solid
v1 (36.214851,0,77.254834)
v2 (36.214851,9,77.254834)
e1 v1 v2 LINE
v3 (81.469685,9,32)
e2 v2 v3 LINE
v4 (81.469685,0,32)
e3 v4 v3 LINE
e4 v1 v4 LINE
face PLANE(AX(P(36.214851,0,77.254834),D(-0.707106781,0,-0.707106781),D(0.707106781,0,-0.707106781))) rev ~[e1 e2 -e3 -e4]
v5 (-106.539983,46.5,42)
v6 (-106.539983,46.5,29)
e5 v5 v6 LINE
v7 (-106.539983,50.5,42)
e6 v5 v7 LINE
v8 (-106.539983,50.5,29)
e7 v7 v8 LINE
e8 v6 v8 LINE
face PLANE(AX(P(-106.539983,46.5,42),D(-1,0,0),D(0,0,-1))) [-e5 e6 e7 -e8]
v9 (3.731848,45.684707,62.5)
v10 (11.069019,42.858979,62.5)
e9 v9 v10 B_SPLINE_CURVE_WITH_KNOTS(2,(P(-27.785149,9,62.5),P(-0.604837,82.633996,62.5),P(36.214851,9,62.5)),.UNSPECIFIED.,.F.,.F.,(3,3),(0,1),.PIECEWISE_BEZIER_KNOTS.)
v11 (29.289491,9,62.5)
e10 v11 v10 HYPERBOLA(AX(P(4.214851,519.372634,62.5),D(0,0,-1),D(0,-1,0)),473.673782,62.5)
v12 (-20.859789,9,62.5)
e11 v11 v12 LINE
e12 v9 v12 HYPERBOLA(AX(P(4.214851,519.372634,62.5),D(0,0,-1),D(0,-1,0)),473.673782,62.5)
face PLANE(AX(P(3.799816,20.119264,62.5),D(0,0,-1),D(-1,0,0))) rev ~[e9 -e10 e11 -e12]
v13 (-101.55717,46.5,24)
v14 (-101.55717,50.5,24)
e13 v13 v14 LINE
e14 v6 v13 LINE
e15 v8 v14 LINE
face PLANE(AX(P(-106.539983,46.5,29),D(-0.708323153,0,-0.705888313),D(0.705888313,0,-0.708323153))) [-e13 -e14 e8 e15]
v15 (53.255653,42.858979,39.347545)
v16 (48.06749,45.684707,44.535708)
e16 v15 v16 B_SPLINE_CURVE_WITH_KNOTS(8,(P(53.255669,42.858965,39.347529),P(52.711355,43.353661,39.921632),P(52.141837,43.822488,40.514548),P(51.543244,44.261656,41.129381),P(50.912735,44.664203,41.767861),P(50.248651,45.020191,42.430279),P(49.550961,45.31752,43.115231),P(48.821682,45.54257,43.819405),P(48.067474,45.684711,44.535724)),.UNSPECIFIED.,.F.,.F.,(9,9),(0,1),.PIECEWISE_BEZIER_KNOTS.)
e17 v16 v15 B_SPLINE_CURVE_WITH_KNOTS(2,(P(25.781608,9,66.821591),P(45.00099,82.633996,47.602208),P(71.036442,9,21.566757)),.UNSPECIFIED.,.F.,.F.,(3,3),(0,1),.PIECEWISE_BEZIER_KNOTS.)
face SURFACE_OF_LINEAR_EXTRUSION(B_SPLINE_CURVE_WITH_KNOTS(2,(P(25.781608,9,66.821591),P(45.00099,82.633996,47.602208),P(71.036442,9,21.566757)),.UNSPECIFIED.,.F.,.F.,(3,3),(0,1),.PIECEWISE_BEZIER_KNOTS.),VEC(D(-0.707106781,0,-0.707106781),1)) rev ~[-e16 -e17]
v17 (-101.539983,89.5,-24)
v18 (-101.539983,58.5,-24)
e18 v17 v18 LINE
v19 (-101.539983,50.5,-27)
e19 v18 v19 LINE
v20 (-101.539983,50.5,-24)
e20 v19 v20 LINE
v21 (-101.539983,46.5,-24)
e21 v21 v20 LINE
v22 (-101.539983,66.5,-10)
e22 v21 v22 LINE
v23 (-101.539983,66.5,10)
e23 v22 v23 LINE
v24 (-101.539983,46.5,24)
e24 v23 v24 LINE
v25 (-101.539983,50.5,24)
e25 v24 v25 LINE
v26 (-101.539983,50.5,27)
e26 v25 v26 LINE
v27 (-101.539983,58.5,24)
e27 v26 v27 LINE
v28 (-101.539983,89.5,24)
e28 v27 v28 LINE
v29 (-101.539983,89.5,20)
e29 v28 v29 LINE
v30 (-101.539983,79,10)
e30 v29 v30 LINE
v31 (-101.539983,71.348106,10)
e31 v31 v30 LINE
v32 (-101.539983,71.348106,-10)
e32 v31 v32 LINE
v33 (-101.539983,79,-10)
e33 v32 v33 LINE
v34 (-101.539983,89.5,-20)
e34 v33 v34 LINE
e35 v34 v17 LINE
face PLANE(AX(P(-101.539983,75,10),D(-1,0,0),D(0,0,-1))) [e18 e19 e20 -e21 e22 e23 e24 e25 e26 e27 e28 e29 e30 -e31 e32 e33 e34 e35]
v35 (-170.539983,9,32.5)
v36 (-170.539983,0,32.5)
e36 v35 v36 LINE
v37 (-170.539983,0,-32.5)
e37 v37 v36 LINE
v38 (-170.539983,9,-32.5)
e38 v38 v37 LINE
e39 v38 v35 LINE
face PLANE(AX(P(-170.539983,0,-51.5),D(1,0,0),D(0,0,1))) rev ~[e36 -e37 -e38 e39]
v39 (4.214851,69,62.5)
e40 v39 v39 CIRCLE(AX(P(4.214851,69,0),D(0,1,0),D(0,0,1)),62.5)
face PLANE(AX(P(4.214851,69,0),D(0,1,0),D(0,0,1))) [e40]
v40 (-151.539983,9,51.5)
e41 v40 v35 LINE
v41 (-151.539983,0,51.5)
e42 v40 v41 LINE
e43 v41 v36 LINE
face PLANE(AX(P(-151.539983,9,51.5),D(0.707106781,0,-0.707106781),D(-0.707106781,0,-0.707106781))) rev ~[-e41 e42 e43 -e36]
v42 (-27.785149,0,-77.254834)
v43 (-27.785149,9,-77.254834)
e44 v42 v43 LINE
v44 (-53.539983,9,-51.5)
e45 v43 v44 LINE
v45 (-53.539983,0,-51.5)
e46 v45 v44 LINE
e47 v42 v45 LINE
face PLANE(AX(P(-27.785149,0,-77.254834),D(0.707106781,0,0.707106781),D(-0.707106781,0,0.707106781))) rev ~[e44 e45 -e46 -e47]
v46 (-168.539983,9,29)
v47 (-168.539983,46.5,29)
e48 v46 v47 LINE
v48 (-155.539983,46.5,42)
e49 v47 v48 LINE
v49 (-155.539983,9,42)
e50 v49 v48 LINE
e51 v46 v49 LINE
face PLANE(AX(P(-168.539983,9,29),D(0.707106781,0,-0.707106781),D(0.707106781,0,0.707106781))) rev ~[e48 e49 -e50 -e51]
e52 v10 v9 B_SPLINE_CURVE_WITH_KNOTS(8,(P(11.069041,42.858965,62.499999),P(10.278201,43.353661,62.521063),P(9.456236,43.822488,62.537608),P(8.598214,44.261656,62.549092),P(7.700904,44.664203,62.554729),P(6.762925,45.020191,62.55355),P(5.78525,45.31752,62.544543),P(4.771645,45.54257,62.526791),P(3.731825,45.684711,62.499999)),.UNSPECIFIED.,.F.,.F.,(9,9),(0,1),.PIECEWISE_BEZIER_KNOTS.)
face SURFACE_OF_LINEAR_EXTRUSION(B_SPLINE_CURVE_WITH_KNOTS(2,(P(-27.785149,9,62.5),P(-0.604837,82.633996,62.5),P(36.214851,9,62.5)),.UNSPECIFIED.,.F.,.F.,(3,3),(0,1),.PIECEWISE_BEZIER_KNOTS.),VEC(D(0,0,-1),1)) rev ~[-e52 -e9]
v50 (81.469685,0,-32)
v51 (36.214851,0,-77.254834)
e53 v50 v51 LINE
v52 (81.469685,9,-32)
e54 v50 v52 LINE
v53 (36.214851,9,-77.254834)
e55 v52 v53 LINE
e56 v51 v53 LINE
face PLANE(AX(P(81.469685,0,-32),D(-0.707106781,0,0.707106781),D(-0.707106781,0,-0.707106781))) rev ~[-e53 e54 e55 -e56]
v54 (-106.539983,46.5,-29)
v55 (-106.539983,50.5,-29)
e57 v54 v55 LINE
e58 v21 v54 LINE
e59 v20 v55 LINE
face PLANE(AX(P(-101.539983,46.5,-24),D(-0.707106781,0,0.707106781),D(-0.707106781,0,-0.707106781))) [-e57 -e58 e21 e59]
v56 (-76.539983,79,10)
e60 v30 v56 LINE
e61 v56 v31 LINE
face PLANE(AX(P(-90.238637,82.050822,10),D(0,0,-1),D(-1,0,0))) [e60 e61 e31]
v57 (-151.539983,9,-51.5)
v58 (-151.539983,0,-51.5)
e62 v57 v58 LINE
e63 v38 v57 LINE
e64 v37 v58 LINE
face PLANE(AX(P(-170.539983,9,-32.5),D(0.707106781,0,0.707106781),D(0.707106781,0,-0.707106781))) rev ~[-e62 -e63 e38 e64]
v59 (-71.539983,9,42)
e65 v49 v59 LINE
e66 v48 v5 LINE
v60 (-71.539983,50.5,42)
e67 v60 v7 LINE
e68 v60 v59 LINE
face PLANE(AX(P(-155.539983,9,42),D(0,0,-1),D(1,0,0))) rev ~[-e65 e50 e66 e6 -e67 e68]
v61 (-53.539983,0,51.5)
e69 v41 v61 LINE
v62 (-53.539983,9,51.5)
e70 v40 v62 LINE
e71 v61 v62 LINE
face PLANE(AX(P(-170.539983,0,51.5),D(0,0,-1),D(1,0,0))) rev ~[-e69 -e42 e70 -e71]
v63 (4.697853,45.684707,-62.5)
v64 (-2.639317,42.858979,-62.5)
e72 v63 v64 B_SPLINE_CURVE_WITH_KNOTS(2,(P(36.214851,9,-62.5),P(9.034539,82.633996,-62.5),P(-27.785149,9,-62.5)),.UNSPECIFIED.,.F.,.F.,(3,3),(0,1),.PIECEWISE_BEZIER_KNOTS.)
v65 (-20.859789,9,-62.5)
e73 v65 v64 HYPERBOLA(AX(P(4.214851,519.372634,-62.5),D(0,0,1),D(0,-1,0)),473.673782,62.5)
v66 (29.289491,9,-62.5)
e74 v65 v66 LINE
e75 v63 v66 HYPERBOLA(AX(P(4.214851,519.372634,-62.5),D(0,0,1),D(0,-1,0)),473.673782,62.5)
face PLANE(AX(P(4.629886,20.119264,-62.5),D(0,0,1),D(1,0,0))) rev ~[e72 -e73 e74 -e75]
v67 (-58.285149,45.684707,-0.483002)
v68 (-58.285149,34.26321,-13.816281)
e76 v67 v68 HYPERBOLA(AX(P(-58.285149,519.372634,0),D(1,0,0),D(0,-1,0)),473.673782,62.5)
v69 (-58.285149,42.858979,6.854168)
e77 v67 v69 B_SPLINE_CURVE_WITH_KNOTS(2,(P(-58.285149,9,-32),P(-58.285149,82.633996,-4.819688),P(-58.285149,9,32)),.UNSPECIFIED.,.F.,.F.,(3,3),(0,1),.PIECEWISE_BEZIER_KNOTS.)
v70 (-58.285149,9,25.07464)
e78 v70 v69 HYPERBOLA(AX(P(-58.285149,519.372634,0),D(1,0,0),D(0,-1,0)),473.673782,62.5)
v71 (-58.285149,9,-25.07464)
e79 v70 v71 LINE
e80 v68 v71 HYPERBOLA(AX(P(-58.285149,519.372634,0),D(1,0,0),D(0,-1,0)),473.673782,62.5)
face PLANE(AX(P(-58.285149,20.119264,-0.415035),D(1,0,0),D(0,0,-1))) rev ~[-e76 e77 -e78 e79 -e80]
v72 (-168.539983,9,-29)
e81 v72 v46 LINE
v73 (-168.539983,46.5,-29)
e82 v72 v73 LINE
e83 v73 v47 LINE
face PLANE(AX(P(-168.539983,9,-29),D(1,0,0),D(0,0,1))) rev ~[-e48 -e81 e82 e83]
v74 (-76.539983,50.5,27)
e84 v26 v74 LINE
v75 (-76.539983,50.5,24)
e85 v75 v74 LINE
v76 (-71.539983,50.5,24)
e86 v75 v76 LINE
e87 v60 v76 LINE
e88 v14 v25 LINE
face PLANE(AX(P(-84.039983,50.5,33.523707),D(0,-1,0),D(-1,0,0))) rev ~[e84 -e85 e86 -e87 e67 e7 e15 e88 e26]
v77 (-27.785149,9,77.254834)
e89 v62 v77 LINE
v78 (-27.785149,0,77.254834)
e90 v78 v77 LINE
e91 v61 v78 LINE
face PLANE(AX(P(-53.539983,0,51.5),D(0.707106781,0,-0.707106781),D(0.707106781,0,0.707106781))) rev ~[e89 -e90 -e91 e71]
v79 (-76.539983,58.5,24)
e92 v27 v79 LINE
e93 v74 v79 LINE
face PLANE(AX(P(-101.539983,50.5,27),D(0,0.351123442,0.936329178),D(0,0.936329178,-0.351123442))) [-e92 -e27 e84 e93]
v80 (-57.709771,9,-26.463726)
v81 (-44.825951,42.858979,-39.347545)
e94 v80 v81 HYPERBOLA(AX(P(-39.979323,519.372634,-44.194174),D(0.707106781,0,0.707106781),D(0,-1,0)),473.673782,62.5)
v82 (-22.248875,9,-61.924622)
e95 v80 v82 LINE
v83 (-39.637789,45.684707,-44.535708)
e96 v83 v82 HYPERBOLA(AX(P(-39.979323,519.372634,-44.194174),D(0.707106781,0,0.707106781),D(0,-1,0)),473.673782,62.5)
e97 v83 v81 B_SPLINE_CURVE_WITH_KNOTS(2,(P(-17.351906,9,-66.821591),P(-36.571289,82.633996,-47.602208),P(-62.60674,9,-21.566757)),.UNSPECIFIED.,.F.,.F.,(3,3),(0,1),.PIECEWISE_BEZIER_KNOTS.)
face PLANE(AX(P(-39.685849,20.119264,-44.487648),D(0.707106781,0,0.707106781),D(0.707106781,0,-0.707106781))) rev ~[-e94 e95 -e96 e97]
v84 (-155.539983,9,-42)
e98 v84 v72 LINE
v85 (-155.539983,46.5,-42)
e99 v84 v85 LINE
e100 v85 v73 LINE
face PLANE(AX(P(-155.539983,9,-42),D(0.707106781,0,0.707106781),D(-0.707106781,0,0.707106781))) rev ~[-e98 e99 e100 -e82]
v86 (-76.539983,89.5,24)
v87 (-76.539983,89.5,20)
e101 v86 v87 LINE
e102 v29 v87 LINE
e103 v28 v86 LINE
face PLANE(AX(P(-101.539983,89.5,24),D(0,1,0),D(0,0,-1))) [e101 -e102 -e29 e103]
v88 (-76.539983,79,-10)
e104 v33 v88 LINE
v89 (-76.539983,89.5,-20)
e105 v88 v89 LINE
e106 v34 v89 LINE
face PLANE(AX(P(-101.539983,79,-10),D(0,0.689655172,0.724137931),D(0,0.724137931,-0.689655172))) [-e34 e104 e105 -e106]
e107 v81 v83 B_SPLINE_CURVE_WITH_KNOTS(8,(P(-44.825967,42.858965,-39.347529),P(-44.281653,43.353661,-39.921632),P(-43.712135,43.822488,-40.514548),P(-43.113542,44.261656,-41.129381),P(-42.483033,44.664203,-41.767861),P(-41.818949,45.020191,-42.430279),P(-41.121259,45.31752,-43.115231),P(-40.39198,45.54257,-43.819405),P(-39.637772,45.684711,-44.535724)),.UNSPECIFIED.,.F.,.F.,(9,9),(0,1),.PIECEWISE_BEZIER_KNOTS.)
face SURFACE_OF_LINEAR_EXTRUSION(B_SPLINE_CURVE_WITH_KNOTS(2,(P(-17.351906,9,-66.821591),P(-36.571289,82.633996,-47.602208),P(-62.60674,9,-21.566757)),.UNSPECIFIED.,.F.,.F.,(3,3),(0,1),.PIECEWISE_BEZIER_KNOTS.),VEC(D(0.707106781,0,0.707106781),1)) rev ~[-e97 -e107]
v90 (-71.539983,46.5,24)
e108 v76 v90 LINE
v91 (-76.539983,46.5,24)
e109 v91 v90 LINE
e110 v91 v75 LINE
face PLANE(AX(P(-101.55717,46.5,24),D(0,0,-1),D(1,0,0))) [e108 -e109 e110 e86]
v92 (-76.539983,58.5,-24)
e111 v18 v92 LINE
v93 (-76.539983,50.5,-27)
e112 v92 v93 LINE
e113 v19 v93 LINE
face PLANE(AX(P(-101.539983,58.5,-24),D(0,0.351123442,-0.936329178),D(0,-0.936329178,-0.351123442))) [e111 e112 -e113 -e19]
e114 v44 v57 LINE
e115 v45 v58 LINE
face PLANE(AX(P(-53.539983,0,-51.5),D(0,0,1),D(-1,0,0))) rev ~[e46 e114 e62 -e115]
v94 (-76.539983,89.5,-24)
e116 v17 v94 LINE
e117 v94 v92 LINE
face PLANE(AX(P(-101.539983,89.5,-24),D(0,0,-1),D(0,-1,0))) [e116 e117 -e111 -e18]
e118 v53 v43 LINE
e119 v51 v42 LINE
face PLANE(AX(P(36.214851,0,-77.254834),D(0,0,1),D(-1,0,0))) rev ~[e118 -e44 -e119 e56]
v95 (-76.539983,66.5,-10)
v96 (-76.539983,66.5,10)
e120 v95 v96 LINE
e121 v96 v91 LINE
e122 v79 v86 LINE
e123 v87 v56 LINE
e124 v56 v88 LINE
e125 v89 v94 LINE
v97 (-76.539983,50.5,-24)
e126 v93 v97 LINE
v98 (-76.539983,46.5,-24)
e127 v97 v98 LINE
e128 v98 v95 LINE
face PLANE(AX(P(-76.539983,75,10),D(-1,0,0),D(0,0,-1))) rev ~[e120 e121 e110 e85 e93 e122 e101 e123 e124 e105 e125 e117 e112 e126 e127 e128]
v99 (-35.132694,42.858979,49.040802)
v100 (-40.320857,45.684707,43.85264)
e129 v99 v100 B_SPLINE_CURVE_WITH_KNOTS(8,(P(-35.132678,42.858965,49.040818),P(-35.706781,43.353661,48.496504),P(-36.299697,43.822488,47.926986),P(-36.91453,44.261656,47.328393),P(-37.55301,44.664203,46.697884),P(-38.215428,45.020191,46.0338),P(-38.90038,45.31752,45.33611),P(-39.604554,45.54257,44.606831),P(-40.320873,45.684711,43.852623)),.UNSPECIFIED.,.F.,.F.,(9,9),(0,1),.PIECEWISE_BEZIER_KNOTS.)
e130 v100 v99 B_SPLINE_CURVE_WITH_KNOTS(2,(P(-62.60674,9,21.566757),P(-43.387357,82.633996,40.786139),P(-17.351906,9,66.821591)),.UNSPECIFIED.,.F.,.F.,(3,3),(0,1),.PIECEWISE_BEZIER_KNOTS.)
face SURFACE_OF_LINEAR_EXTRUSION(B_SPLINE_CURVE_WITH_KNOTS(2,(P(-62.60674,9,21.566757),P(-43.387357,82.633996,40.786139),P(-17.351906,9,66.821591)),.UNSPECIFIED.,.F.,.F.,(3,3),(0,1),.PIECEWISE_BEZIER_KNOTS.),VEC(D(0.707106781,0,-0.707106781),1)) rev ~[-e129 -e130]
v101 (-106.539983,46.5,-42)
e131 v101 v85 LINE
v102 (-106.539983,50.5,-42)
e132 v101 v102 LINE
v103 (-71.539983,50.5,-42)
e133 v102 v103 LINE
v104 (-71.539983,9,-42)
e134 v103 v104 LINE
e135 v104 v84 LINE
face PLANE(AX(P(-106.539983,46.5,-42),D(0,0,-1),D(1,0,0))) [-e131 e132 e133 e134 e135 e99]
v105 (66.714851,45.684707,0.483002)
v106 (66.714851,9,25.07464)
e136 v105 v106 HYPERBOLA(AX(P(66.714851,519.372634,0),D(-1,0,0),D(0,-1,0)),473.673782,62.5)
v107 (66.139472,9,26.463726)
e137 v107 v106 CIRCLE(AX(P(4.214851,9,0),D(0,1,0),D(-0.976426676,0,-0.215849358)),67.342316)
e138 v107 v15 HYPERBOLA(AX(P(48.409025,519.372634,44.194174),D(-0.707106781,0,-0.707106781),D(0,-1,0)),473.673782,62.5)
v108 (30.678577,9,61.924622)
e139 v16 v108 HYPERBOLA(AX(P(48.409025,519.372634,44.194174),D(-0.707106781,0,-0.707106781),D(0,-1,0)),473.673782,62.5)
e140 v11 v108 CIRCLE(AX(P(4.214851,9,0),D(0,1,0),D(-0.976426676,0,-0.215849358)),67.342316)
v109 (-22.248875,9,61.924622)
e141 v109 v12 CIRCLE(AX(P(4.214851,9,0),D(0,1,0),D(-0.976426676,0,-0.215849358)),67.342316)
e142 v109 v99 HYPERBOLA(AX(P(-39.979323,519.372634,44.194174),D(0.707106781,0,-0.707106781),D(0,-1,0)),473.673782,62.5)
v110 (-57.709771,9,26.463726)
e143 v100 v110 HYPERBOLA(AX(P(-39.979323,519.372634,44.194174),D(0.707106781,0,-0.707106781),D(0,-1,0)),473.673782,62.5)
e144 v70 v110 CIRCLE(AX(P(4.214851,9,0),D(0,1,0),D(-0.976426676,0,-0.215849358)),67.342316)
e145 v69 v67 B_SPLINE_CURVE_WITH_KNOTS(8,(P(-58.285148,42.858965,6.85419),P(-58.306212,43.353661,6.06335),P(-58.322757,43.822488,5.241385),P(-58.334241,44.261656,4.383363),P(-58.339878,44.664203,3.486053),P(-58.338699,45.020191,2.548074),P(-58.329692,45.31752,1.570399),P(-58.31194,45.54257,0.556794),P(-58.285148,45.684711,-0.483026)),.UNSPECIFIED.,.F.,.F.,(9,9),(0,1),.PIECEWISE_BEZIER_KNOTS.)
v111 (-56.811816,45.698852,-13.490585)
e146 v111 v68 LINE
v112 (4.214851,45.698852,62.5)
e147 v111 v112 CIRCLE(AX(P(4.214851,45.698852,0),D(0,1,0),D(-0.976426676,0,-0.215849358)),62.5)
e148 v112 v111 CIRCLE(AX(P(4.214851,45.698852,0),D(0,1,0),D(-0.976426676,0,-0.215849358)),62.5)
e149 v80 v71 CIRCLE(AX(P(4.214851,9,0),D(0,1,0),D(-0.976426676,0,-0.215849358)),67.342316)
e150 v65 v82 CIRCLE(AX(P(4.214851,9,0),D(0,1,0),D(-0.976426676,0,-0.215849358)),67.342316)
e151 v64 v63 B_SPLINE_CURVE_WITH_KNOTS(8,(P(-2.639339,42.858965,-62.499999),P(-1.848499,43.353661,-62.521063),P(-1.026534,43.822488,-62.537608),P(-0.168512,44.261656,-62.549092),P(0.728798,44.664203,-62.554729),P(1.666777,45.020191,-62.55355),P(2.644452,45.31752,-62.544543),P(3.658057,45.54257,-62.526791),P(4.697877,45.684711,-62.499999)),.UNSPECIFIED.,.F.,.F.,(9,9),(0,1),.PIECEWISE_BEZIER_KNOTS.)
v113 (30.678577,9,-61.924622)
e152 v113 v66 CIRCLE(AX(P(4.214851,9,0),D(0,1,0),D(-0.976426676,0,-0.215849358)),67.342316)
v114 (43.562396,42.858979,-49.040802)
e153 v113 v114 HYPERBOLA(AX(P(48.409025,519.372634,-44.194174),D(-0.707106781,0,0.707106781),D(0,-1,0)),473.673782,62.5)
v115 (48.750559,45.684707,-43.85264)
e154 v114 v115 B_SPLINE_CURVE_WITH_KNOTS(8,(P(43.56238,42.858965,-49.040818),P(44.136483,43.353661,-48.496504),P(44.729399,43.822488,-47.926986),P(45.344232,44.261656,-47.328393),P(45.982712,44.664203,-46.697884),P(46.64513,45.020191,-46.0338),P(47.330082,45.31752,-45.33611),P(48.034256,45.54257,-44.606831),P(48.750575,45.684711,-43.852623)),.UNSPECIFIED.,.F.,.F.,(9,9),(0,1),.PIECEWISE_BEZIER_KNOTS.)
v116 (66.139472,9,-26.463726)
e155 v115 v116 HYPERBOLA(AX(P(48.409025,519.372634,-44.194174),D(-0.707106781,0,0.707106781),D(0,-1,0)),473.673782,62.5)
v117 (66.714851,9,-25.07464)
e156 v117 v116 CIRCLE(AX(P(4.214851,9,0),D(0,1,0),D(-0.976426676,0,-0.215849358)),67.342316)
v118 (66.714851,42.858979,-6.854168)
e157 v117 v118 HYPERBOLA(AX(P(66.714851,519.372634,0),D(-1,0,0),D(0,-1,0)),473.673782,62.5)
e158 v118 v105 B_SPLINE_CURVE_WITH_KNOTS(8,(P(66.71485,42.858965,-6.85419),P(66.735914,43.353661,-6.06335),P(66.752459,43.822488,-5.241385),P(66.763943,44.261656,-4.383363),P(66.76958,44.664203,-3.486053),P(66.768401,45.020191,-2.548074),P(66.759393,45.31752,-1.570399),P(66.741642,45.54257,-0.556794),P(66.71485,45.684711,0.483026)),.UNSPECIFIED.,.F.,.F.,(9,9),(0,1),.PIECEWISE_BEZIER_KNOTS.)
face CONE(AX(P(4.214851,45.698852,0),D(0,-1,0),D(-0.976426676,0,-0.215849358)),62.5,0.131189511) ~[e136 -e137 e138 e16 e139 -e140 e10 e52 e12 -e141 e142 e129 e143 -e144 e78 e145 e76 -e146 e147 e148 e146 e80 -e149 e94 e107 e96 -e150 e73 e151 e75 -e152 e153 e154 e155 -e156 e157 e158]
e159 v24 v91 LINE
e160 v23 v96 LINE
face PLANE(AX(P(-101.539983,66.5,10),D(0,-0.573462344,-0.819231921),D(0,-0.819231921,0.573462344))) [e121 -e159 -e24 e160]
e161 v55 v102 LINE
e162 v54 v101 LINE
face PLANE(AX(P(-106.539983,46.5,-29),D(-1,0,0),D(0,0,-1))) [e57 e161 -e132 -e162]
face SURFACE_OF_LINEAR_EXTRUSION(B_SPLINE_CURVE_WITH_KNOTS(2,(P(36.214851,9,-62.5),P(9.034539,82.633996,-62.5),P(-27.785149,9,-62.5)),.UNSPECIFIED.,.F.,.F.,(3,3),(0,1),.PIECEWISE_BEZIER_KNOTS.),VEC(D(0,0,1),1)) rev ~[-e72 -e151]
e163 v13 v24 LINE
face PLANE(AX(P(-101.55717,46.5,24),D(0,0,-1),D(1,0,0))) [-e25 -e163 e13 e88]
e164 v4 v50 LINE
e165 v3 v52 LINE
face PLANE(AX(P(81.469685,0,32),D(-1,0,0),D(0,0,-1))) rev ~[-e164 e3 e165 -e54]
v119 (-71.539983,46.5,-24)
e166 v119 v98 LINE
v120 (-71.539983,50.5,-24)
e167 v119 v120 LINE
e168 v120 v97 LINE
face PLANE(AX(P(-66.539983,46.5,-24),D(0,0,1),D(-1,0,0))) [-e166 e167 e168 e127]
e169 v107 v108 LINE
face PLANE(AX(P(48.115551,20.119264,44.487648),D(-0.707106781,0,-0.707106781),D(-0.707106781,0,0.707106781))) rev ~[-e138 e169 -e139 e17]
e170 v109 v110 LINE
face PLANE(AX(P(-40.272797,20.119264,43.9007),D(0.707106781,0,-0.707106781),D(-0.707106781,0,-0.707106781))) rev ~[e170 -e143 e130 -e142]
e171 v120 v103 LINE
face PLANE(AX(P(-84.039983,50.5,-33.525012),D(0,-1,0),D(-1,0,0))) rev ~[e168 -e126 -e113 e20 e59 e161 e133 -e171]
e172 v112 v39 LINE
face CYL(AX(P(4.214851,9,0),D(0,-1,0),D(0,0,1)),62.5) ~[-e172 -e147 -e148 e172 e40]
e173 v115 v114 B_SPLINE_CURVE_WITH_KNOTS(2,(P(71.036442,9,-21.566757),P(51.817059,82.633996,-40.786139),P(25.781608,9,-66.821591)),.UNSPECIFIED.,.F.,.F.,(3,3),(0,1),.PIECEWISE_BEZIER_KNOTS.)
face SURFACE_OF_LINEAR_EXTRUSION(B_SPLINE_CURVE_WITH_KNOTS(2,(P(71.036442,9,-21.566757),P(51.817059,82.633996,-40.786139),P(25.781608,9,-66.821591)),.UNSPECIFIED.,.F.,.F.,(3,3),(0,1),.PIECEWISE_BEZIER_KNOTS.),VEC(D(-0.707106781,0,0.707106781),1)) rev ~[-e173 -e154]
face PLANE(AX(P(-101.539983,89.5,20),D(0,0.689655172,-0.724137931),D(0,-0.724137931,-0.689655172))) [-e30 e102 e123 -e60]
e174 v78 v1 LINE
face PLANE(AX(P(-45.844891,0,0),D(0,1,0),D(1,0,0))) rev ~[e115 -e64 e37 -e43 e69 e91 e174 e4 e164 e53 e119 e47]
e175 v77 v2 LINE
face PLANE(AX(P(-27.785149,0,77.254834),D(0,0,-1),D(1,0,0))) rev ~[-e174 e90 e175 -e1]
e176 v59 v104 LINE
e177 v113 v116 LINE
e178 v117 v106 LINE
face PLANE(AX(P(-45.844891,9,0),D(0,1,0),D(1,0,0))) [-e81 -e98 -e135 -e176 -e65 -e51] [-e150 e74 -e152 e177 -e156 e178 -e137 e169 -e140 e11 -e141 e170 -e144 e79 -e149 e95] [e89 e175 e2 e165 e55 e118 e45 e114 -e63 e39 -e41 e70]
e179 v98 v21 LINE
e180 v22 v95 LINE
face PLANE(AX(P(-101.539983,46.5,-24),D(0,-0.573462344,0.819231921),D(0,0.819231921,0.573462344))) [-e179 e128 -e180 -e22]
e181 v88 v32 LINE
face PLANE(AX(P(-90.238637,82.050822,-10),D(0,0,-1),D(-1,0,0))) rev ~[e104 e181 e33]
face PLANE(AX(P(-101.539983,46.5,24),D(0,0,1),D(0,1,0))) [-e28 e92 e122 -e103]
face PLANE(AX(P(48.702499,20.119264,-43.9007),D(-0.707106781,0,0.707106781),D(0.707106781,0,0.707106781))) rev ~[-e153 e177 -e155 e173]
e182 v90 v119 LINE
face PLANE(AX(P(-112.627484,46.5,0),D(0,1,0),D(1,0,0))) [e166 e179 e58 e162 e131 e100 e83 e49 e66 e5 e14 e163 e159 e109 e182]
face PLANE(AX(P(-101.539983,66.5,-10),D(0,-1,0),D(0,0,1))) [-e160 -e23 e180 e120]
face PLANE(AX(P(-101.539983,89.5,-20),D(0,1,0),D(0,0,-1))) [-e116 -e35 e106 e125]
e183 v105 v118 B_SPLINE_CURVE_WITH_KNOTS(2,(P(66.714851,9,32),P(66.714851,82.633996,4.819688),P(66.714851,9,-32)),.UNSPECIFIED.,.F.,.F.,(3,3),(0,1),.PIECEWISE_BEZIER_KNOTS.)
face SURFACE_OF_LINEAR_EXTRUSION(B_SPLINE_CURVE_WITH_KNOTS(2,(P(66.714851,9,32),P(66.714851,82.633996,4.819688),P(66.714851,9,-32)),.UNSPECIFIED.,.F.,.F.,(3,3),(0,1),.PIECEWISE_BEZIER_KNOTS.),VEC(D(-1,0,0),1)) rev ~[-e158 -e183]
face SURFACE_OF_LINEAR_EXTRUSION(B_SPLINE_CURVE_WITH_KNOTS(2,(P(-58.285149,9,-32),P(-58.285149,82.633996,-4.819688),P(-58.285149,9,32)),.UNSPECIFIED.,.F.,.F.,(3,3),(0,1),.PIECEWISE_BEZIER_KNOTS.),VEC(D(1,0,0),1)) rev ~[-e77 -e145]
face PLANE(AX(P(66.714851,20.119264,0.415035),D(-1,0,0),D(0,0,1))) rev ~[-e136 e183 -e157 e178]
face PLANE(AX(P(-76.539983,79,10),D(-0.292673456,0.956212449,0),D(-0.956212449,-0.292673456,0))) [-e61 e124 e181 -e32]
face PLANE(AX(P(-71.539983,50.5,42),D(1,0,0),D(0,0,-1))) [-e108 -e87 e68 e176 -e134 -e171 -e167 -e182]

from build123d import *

# Parameters (mm, degrees)
EXTRUDE_1_DEPTH     = 9
CUT_EXTRUDE_2_DEPTH = 9
SKETCH_4_R          = 63.5
EXTRUDE_2_DEPTH     = 60
EXTRUDE_3_DEPTH     = 37.5
EXTRUDE_4_DEPTH     = 4
EXTRUDE_5_DEPTH     = 25
EXTRUDE_6_DEPTH     = 25
EXTRUDE_7_DEPTH     = 25
CUT_EXTRUDE2_START  = -60
SKETCH4_R           = 63.5
SKETCH4_R_2         = 62.5
CUT_EXTRUDE2_DEPTH  = 60
CUT_EXTRUDE4_DEPTH  = 6.8
CIRPATTERN1_COUNT   = 8
SKETCH15_W          = 73.49693164
SKETCH15_H          = 33.050154469
BOSS_EXTRUDE4_DEPTH = 16
SKETCH16_W          = 25
SKETCH16_H          = 20
BOSS_EXTRUDE5_DEPTH = 10
CUT_EXTRUDE5_DEPTH  = 20
SKETCH19_W          = 10
SKETCH19_H          = 84
CUT_EXTRUDE6_DEPTH  = 41.5


with BuildPart() as part:
    # 草图1 → 凸台-拉伸1 (new body)
    with BuildSketch(Plane(origin=(0, 0, 0), x_dir=(1, 0, 0), z_dir=(0, 1, 0))):
        Polygon((81.469684938, 32), (36.214850942, 77.254833996), (-27.785149058, 77.254833996), (-53.539983054, 51.5), (-170.539983054, 51.5), (-170.539983054, -51.5), (-53.539983054, -51.5), (-27.785149058, -77.254833996), (36.214850942, -77.254833996), (81.469684938, -32), align=None)
    extrude(amount=EXTRUDE_1_DEPTH)

    # 草图2 → 切除-拉伸2 (cut)
    with BuildSketch(Plane(origin=(0, 9, 0), x_dir=(1, 0, 0), z_dir=(0, 1, 0))):
        Polygon((-151.539983054, -51.5), (-170.539983054, -32.5), (-170.539983054, -51.5), align=None)
        Polygon((-170.539983054, 51.5), (-170.539983054, 32.5), (-151.539983054, 51.5), align=None)
    extrude(amount=-CUT_EXTRUDE_2_DEPTH, mode=Mode.SUBTRACT)

    # 草图4 → 凸台-拉伸2 (add)
    with BuildSketch(Plane(origin=(0, 9, 0), x_dir=(1, 0, 0), z_dir=(0, 1, 0))):
        with Locations(Location((4.214850942, 0, 0), (0, 0, 270))):
            Circle(SKETCH_4_R)
    extrude(amount=EXTRUDE_2_DEPTH)

    # 草图5 → 凸台-拉伸3 (add)
    with BuildSketch(Plane(origin=(0, 9, 0), x_dir=(1, 0, 0), z_dir=(0, 1, 0))):
        Polygon((-155.539983054, -42), (-61.539983054, -42), (-61.539983054, 42), (-155.539983054, 42), (-168.539983054, 29), (-168.539983054, -29), align=None)
    extrude(amount=EXTRUDE_3_DEPTH)

    # 草图7 → 凸台-拉伸4 (add)
    with BuildSketch(Plane(origin=(0, 46.5, 0), x_dir=(1, 0, 0), z_dir=(0, 1, 0))):
        Polygon((-106.539983054, 42), (-61.539983054, 42), (-61.539983054, 29), (-66.539983054, 24), (-101.539983054, 24), (-106.539983054, 29), align=None)
        Polygon((-106.539983054, -29), (-101.557170407, -24), (-66.5227957, -24), (-61.539983054, -29), (-61.539983054, -42), (-106.539983054, -42), align=None)
    extrude(amount=EXTRUDE_4_DEPTH)

    # 草图8 → 凸台-拉伸5 (add)
    with BuildSketch(Plane.ZY.offset(101.539983054)):
        Polygon((-24, 46.5), (-10, 66.5), (10, 66.5), (24, 46.5), (24, 89.5), (20, 89.5), (10, 79), (10, 75), (-10, 75), (-10, 79), (-20, 89.5), (-24, 89.5), align=None)
    extrude(amount=-EXTRUDE_5_DEPTH)

    # 草图12 → 凸台-拉伸6 (add)
    with BuildSketch(Plane.ZY.offset(101.539983054)):
        Polygon((-24, 58.5), (-27, 50.5), (-24, 50.5), align=None)
    extrude(amount=-EXTRUDE_6_DEPTH)

    # 草图15 → 凸台-拉伸7 (add)
    with BuildSketch(Plane.ZY.offset(101.539983054)):
        Polygon((24, 50.5), (27, 50.5), (24, 58.5), align=None)
    extrude(amount=-EXTRUDE_7_DEPTH)

    # Sketch4 → Cut-Extrude2 (cut)
    with BuildSketch(Plane(origin=(0, 69, 0), x_dir=(1, 0, 0), z_dir=(0, 1, 0)).offset(CUT_EXTRUDE2_START)):
        with Locations((4.214850942, 0)):
            Circle(SKETCH4_R)
        with Locations(Location((4.214850942, 0, 0), (0, 0, 270))):
            Circle(SKETCH4_R_2, mode=Mode.SUBTRACT)
    extrude(amount=CUT_EXTRUDE2_DEPTH, mode=Mode.SUBTRACT)

    # Sketch9 → Revolve2 (revolve)
    with BuildSketch(Plane.XY, mode=Mode.PRIVATE) as revolve2_sk:
        Polygon((66.714850942, 45.698851706), (71.557167148, 9), (66.714850942, 9), align=None)
    revolve(revolve2_sk.sketch.rotate(Axis((4.214850942, 69, 0), (0, 1, 0)), 167.534637939), axis=Axis((4.214850942, 69, 0), (0, 1, 0)))

    # Sketch12 → Cut-Extrude4 (cut)
    with BuildSketch(Plane.XY.offset(62.5)):
        with BuildLine():
            Line((36.214850942, 9), (-27.785149058, 9))
            add(Edge.make_bspline(
                [(-27.785149058, 9), (-0.604837494, 82.63399563), (36.214850942, 9)],
                knots=[0, 0, 0, 1, 1, 1], degree=2))
        make_face()
    cut_extrude4 = extrude(amount=CUT_EXTRUDE4_DEPTH, mode=Mode.SUBTRACT)

    # CirPattern1: Cut-Extrude4 ×8 about axis
    cirpattern1_axis = Axis((4.214850942, 69, 0), (0, 1, 0))
    for i in range(1, CIRPATTERN1_COUNT):
        add(cut_extrude4.rotate(cirpattern1_axis, i * 360 / CIRPATTERN1_COUNT), mode=Mode.SUBTRACT)

    # Sketch15 → Boss-Extrude4 (add)
    with BuildSketch(Plane(origin=(-61.539983054, 0, 0), x_dir=(0, 0, -1), z_dir=(1, 0, 0))):
        with Locations((3.027242224, 22.608056987)):
            Rectangle(SKETCH15_W, SKETCH15_H)
    extrude(amount=-BOSS_EXTRUDE4_DEPTH)

    # Sketch16 → Boss-Extrude5 (add)
    with BuildSketch(Plane(origin=(0, 75, 0), x_dir=(1, 0, 0), z_dir=(0, 1, 0))):
        with Locations((-89.039983054, 0)):
            Rectangle(SKETCH16_W, SKETCH16_H)
    extrude(amount=BOSS_EXTRUDE5_DEPTH)

    # Sketch17 → Cut-Extrude5 (cut)
    with BuildSketch(Plane.XY.offset(10)):
        Polygon((-76.539983054, 79), (-101.539983054, 71.348105906), (-101.539983054, 89.5), (-76.539983054, 89.5), align=None)
    extrude(amount=-CUT_EXTRUDE5_DEPTH, mode=Mode.SUBTRACT)

    # Sketch19 → Cut-Extrude6 (cut)
    with BuildSketch(Plane(origin=(0, 50.5, 0), x_dir=(1, 0, 0), z_dir=(0, 1, 0))):
        with Locations((-66.539983054, 0)):
            Rectangle(SKETCH19_W, SKETCH19_H)
    extrude(amount=-CUT_EXTRUDE6_DEPTH, mode=Mode.SUBTRACT)


solid = part.part
